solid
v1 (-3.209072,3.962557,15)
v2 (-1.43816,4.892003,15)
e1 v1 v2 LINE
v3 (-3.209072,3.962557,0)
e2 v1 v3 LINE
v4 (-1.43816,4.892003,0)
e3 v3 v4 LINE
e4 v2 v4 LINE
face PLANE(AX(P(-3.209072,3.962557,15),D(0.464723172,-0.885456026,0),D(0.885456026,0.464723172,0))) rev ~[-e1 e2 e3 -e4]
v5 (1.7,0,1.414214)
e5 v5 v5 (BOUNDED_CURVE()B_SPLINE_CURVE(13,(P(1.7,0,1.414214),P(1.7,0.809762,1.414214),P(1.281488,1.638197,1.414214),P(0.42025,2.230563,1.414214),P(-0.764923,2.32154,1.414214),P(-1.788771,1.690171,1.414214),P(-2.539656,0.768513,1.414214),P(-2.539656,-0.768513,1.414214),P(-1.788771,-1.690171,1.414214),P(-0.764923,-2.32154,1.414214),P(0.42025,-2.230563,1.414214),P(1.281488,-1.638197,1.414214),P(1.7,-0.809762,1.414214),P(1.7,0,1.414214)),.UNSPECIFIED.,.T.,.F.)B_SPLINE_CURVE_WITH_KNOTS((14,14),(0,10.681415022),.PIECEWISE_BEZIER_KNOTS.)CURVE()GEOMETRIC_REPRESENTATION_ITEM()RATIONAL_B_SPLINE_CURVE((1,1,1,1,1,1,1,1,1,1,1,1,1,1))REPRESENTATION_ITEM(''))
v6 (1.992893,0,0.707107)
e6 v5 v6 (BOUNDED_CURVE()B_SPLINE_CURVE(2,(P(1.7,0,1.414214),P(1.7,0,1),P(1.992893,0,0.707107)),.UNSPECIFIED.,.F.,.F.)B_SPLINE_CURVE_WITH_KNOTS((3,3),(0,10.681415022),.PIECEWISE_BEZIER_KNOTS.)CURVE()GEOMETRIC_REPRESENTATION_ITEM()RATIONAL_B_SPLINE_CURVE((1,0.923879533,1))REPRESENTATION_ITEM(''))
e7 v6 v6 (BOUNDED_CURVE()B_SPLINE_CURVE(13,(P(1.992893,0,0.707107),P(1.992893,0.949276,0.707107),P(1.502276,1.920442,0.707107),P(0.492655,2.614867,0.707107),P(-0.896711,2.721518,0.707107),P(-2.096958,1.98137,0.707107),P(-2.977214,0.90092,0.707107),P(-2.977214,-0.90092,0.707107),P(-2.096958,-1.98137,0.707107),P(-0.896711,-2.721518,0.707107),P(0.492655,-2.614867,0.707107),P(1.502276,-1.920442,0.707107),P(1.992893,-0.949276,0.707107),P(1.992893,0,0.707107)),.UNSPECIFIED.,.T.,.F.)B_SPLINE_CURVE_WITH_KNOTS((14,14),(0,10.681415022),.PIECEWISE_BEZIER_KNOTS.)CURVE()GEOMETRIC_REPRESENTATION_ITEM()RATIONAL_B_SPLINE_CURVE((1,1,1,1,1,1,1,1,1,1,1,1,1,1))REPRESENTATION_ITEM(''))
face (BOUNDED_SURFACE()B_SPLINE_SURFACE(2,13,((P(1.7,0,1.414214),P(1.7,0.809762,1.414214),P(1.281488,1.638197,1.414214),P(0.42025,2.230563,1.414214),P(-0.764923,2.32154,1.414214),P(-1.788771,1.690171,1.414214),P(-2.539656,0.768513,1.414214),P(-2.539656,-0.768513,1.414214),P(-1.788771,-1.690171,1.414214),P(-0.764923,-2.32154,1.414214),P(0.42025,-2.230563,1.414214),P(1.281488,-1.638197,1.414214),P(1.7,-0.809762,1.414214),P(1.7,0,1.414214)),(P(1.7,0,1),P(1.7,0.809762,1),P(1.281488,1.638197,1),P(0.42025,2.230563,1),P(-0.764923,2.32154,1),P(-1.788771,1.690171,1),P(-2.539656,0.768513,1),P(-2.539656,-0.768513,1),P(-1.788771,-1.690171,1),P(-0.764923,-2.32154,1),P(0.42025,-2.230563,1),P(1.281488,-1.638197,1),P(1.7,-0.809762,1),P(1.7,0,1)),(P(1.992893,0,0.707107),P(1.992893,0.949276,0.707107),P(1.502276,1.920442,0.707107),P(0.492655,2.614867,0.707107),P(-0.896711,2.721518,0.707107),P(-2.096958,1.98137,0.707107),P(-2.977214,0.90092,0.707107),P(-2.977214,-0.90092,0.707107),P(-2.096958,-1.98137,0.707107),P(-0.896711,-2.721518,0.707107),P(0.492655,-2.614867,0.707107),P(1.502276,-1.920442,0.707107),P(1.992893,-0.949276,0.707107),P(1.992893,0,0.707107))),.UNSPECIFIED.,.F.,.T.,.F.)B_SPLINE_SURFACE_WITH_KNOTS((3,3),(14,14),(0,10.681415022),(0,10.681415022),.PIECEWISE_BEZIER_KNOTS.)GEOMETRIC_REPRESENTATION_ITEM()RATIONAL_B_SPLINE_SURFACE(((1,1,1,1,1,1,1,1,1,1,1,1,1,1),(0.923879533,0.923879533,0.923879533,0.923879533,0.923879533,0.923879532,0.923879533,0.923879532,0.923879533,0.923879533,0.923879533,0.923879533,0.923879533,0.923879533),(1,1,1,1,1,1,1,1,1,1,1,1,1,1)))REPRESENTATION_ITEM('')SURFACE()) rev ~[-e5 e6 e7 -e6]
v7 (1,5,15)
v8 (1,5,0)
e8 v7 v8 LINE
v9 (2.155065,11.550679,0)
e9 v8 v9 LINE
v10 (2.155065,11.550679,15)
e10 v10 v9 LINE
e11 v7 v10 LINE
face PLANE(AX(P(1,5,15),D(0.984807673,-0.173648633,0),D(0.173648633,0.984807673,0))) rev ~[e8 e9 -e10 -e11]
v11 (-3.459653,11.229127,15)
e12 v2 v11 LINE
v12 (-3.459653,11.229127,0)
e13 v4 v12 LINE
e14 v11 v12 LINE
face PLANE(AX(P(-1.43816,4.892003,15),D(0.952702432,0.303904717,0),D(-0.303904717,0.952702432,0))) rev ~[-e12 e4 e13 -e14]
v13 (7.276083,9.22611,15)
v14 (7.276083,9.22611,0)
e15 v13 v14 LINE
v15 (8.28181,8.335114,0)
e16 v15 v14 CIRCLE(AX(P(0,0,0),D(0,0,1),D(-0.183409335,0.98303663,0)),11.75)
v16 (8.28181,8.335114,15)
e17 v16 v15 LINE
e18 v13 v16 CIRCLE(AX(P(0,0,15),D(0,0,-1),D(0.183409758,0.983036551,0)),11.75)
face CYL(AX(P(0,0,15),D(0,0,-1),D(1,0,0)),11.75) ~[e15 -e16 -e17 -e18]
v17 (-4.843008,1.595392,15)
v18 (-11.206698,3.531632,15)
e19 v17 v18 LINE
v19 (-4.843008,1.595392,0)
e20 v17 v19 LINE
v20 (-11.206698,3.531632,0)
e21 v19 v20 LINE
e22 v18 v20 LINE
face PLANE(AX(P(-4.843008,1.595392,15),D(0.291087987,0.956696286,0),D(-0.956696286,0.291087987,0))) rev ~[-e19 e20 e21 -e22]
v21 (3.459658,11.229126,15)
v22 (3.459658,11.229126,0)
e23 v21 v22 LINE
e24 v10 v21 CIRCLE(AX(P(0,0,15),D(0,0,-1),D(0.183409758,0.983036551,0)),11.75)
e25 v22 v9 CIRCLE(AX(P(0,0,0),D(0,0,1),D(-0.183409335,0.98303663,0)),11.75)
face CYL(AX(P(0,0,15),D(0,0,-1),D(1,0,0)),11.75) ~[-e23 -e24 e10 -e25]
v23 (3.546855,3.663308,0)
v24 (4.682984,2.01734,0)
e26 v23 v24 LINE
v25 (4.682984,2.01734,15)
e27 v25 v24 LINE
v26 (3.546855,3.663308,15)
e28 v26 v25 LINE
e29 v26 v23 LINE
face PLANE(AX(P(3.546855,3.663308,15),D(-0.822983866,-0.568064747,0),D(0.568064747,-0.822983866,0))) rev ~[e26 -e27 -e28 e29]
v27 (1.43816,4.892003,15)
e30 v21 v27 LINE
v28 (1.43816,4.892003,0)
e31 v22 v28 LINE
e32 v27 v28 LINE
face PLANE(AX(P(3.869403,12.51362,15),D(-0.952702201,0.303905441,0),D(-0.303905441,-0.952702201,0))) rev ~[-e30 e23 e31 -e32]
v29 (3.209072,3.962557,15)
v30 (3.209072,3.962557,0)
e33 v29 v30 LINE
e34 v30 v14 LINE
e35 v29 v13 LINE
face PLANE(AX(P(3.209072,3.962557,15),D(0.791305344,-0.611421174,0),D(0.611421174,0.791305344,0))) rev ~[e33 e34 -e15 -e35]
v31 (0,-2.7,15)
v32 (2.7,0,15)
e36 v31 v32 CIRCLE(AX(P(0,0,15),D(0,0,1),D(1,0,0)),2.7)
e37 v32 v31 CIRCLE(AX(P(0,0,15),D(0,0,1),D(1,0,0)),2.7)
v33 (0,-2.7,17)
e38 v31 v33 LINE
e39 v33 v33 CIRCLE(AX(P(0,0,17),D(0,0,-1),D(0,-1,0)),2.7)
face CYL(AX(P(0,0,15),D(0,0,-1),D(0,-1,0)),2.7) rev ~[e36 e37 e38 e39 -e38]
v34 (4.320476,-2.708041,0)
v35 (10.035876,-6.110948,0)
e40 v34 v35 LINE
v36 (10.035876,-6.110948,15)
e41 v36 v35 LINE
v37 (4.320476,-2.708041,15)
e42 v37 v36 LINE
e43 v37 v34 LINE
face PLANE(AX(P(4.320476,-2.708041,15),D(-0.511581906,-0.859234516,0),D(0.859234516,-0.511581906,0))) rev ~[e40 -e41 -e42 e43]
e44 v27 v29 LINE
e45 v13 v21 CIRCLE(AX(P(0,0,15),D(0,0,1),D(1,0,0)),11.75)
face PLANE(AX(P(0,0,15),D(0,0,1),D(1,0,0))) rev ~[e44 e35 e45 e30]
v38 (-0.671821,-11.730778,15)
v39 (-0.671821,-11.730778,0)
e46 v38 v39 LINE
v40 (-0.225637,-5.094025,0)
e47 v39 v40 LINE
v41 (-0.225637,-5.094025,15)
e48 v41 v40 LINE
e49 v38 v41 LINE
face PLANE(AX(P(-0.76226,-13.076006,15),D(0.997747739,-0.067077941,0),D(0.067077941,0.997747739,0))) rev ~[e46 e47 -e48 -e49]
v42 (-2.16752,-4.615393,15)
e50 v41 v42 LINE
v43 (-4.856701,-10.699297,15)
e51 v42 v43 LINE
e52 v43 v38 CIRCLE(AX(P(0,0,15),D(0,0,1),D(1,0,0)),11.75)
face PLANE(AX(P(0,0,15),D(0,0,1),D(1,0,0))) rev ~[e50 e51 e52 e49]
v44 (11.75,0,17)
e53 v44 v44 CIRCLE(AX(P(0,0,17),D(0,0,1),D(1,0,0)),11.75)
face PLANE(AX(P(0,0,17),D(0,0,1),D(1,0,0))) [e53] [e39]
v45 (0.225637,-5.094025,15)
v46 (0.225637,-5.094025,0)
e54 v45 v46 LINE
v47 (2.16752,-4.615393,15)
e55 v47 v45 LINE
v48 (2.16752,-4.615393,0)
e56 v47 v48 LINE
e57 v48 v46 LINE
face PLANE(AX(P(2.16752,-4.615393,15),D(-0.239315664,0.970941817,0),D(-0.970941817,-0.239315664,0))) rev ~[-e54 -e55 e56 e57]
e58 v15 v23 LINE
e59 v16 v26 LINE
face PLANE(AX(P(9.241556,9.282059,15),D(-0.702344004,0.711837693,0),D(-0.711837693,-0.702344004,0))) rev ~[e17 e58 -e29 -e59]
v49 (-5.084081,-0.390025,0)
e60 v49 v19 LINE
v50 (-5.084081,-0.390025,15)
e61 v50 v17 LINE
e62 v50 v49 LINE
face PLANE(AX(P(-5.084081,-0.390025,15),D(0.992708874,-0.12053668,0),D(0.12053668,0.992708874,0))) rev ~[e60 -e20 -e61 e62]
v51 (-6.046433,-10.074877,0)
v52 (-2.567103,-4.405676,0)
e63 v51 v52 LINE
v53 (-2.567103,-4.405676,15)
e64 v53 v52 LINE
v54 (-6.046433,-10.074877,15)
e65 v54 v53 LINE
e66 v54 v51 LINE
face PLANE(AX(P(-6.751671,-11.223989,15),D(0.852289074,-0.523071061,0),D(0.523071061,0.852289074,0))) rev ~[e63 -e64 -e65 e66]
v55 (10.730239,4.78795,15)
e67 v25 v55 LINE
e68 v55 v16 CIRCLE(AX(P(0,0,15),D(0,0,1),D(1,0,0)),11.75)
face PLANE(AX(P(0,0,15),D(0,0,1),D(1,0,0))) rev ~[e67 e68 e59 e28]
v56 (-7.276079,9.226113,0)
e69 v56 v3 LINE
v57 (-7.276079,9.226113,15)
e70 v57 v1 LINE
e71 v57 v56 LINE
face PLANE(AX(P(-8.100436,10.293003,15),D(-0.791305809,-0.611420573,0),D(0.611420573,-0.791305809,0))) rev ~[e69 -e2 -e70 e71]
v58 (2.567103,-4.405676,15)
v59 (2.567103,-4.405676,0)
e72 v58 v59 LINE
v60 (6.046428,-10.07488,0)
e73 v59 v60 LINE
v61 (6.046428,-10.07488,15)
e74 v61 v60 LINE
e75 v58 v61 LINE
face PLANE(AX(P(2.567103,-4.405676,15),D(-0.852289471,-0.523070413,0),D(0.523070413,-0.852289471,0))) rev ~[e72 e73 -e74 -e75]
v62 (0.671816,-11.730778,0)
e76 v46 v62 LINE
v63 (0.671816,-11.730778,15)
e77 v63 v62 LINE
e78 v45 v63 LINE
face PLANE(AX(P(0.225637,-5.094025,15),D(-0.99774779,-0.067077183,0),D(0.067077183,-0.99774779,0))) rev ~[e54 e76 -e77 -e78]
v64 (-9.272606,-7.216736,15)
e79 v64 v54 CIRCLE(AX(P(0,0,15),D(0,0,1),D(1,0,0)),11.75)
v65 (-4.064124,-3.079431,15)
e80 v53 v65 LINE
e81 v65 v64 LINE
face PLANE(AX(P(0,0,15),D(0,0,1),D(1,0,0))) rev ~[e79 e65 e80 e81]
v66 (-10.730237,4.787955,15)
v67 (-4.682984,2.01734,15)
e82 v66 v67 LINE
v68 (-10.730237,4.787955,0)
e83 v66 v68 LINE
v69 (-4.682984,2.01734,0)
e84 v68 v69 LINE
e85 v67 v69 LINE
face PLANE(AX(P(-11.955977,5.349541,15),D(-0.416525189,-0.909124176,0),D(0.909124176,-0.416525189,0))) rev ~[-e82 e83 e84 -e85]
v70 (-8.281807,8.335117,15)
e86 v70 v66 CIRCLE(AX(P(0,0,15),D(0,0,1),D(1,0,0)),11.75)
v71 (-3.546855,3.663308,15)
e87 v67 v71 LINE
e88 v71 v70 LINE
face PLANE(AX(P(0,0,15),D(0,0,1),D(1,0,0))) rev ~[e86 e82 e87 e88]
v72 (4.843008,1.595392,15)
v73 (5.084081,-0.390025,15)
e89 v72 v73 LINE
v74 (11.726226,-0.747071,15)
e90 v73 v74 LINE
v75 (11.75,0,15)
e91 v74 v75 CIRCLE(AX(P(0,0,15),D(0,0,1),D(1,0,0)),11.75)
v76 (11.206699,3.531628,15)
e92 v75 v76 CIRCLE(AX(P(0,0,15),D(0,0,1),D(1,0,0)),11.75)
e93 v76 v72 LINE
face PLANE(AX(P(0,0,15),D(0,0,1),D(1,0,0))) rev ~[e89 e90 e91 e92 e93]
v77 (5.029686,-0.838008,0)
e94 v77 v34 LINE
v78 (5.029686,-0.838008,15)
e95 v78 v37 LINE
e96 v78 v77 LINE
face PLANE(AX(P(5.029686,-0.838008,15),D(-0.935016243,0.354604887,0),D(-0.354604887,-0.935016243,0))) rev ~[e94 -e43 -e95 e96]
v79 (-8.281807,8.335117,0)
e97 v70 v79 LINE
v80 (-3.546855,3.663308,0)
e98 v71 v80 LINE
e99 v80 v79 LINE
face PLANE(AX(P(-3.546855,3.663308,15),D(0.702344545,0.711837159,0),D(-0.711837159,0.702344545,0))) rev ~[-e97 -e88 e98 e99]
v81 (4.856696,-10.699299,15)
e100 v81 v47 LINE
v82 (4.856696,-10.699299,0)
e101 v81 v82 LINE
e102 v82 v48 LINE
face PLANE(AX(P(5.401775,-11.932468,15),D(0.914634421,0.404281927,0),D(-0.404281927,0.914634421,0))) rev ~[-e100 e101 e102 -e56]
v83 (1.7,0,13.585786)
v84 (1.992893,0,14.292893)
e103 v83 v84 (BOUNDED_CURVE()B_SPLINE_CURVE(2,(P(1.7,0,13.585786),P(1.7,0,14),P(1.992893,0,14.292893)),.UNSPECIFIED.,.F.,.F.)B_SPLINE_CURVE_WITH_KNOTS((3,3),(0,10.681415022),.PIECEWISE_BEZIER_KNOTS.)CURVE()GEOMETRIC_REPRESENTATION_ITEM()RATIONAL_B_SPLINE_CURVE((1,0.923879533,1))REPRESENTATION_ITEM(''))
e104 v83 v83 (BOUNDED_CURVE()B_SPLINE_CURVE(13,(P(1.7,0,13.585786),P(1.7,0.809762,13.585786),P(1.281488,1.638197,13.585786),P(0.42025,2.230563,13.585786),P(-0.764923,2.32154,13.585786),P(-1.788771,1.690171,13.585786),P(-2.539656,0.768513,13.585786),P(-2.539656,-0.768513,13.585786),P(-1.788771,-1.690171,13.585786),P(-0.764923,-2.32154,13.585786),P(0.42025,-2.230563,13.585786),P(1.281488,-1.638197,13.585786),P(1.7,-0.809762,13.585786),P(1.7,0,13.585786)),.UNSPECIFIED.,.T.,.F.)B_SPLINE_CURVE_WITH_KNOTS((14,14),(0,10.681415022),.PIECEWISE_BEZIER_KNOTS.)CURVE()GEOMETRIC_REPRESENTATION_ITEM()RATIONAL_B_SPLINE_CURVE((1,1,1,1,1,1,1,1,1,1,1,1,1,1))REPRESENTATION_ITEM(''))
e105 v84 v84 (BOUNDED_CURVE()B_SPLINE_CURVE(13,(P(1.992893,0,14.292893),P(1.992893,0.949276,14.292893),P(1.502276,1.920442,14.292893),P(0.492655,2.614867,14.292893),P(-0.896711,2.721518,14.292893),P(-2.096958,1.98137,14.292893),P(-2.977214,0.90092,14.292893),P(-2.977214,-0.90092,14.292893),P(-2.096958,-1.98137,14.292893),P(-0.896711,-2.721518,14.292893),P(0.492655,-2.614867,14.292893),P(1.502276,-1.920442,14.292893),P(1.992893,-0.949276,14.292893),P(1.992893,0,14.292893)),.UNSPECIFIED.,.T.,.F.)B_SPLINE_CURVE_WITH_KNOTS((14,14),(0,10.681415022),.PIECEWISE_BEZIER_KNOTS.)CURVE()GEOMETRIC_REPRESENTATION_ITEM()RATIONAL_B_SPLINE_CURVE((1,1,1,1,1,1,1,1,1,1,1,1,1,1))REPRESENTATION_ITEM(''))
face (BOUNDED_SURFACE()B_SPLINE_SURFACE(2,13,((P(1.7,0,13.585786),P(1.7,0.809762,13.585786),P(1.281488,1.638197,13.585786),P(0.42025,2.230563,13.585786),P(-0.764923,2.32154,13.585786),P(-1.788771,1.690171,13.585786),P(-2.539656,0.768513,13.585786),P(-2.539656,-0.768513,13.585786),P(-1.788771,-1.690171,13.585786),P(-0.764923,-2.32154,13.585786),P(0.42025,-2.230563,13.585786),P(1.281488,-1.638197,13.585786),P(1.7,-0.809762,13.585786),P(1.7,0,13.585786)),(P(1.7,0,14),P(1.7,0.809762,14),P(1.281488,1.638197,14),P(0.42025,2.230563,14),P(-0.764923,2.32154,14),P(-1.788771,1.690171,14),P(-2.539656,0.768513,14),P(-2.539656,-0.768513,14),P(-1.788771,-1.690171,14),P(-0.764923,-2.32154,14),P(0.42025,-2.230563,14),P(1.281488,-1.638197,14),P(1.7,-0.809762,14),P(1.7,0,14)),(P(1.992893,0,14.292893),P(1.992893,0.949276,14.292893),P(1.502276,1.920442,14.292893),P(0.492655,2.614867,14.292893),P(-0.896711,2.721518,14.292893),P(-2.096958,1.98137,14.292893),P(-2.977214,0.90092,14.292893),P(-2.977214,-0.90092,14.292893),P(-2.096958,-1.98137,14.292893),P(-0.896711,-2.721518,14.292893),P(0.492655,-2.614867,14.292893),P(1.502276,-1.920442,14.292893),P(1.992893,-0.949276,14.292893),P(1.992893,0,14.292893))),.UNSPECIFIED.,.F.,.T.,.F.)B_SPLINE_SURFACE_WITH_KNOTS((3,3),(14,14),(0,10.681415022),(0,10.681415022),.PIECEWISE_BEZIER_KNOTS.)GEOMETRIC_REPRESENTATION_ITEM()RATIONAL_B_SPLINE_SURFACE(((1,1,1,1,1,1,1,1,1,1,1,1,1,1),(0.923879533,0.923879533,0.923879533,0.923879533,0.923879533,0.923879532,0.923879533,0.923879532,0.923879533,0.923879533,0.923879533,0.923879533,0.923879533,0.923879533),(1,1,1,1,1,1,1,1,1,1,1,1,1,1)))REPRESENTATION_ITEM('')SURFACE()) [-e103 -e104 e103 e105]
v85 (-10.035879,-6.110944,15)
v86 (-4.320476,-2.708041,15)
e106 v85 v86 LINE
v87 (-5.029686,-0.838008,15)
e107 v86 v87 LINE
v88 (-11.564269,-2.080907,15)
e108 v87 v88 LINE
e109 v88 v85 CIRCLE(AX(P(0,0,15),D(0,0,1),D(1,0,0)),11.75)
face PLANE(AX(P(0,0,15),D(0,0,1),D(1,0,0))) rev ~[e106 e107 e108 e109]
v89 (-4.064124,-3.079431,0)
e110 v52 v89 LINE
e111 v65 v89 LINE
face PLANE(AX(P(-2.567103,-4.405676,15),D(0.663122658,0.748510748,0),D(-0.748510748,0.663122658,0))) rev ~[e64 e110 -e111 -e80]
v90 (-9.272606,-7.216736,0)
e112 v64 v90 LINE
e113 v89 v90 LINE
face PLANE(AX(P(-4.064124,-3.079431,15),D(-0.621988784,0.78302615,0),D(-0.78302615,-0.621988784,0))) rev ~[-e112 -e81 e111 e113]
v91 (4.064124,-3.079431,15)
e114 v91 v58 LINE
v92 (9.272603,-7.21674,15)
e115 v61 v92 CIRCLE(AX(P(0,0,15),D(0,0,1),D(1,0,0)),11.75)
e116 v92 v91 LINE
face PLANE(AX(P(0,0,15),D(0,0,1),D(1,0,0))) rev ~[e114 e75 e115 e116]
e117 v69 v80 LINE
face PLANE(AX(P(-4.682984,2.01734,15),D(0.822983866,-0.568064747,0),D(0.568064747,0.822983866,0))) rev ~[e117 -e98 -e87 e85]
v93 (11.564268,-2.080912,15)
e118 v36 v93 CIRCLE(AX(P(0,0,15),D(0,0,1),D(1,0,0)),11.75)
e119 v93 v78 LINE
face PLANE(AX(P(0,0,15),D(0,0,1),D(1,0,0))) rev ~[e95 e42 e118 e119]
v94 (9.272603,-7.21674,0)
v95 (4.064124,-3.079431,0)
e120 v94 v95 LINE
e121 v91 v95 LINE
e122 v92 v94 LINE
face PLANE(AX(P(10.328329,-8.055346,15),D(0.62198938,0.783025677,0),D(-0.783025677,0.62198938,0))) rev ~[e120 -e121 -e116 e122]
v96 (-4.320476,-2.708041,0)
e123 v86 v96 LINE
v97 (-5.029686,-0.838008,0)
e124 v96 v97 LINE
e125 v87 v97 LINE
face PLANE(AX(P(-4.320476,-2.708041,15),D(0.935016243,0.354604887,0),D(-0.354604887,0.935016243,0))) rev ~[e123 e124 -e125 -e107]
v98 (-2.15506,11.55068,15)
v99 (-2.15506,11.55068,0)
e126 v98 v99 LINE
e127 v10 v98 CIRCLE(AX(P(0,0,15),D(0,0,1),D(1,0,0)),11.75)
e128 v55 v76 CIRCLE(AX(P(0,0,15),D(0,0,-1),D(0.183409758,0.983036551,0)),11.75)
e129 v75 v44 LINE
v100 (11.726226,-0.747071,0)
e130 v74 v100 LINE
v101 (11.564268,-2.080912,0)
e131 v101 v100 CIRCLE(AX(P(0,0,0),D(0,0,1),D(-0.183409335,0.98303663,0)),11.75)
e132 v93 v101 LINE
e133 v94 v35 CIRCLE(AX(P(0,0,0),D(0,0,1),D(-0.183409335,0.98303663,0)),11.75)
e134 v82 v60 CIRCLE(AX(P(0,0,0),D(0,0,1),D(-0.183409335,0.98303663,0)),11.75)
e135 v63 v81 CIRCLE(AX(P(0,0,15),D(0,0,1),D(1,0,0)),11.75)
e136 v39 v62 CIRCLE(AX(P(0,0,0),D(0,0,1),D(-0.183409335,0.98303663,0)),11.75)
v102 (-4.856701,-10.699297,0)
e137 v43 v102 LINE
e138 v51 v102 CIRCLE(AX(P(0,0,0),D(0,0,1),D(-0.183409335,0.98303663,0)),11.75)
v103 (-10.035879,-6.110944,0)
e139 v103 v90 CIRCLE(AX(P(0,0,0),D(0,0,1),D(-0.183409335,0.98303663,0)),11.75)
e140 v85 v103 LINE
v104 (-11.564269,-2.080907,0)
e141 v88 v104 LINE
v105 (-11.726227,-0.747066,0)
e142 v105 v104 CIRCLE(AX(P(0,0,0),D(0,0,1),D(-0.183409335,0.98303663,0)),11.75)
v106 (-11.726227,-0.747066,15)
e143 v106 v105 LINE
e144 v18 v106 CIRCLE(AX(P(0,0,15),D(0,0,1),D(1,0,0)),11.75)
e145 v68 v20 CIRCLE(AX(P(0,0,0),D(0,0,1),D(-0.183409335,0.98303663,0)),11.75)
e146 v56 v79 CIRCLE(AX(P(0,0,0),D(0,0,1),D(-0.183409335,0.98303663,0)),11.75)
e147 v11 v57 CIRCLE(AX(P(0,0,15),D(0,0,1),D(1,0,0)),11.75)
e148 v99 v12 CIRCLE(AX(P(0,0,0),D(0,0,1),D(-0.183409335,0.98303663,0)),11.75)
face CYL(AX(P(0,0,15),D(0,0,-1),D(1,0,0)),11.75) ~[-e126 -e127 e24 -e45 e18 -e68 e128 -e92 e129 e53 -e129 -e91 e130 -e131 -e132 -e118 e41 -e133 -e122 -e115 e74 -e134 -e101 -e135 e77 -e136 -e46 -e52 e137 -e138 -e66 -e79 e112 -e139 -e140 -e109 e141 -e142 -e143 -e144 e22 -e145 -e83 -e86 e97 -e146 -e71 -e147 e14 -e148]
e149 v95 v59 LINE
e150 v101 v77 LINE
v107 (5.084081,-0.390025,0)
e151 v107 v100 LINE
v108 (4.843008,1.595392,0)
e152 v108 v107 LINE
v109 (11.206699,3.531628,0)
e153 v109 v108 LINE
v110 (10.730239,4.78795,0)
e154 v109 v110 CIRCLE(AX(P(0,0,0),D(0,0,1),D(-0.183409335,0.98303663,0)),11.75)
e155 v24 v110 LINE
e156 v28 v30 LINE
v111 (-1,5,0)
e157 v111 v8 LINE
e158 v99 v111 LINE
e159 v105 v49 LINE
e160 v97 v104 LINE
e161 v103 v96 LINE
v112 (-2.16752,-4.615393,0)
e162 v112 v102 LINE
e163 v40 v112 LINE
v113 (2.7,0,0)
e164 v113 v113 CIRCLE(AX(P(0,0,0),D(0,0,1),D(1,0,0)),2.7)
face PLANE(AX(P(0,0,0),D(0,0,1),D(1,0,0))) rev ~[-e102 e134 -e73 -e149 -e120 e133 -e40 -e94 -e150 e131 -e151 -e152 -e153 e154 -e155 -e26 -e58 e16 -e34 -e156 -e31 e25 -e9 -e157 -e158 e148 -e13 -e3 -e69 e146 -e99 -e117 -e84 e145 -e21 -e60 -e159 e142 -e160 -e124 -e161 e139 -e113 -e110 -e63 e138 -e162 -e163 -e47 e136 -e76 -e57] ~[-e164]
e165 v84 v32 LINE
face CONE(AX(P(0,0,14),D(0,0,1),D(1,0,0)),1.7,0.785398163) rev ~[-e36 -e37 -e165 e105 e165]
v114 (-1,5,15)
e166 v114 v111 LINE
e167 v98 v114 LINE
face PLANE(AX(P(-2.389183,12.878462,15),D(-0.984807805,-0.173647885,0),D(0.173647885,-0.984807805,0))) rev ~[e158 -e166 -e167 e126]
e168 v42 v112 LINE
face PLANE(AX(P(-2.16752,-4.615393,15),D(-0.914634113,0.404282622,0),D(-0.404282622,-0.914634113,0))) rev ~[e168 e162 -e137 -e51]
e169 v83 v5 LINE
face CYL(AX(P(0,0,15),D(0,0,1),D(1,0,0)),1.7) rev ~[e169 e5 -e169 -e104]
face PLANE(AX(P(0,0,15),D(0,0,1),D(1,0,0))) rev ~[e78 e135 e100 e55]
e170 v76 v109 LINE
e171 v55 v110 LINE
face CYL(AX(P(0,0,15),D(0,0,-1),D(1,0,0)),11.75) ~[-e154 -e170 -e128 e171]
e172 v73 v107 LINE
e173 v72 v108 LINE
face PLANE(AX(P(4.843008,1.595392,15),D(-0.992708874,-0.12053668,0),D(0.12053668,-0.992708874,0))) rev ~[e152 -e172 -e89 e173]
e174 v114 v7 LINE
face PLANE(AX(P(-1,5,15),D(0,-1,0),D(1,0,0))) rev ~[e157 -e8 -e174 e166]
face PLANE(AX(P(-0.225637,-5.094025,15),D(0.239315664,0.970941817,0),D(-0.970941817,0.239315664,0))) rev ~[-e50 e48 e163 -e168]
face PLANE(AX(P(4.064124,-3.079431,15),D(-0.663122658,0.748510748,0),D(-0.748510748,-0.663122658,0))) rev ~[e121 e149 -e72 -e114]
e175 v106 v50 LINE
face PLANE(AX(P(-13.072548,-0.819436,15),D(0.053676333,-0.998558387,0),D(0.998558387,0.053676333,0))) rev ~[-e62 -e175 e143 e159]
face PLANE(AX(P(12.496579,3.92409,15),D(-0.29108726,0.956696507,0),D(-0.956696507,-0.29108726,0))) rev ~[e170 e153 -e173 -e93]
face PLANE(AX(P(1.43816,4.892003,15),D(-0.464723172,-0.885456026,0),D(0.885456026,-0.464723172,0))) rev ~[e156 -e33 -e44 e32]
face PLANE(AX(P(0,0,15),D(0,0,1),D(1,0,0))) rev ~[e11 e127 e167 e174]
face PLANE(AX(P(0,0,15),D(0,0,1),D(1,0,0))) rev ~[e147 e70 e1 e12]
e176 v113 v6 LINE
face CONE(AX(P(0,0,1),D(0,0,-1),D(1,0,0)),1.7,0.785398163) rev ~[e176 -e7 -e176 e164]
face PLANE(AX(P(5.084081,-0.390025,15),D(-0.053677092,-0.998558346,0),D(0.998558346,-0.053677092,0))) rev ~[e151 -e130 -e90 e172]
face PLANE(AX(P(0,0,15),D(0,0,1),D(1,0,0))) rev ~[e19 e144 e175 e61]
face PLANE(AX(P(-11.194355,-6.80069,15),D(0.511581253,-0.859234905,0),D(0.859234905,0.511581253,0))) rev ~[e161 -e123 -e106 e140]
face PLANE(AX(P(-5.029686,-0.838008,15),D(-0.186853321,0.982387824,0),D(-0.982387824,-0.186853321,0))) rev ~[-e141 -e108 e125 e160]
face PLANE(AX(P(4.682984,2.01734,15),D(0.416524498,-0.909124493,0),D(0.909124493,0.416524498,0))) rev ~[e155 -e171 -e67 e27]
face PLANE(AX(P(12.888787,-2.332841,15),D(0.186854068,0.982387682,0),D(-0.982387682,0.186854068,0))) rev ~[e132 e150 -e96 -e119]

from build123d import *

# Parameters (mm, degrees)
SKETCH_R           = 11.75
PAD_DEPTH          = 15
SKETCH001_R        = 1.7
POCKET_DEPTH       = 15.001
POCKET001_DEPTH    = 87.925619
POLARPATTERN_COUNT = 13
CHAMFER_SIZE       = 1
CHAMFER001_SIZE    = 1
FILLET_R           = 1
FILLET001_R        = 1
SKETCH003_R        = 11.75
PAD001_DEPTH       = 2
PAD001_FACE6_R     = 2.7
POCKET002_DEPTH    = 5


with BuildPart() as part:
    # Sketch → Pad (new body)
    with BuildSketch(Plane.XY):
        Circle(SKETCH_R)
    extrude(amount=PAD_DEPTH)

    # Sketch001 (on Face3 of Pad) → Pocket (cut, through all)
    with BuildSketch(Plane.XY.offset(15)):
        Circle(SKETCH001_R)
    extrude(amount=-POCKET_DEPTH, mode=Mode.SUBTRACT)

    # Sketch002 (on Face3 of Pocket) → Pocket001 (cut, through all)
    with BuildSketch(Plane.XY.offset(15)):
        Polygon((-1, 5), (1, 5), (2.389189, 12.878461), (-2.389183, 12.878462), align=None)
    pocket001 = extrude(amount=-POCKET001_DEPTH, mode=Mode.SUBTRACT)

    # PolarPattern: Pocket001 ×13 about axis
    polarpattern_axis = Axis((0, 0, 15), (0, 0, 1))
    for i in range(1, POLARPATTERN_COUNT):
        add(pocket001.rotate(polarpattern_axis, i * 360 / POLARPATTERN_COUNT), mode=Mode.SUBTRACT)

    # Chamfer
    chamfer_edges = [part.edges().sort_by_distance(p)[0] for p in [
        (-1.7, 0, 0),
    ]]
    chamfer(chamfer_edges, length=CHAMFER_SIZE)

    # Chamfer001
    chamfer001_edges = [part.edges().sort_by_distance(p)[0] for p in [
        (-1.7, 0, 15),
    ]]
    chamfer(chamfer001_edges, length=CHAMFER001_SIZE)

    # Fillet
    fillet_edges = [part.edges().sort_by_distance(p)[0] for p in [
        (-1.7, 0, 1),
    ]]
    fillet(fillet_edges, radius=FILLET_R)

    # Fillet001
    fillet001_edges = [part.edges().sort_by_distance(p)[0] for p in [
        (-1.7, 0, 14),
    ]]
    fillet(fillet001_edges, radius=FILLET001_R)

    # Sketch003 (on Face55 of PolarPattern) → Pad001 (join)
    with BuildSketch(Plane.XY.offset(15)):
        Circle(SKETCH003_R)
    extrude(amount=PAD001_DEPTH)

    # Pad001 Face6 → Pocket002 (cut)
    with BuildSketch(Plane(origin=(0, 0, 15), x_dir=(0, -1, 0), z_dir=(0, 0, -1))):
        Circle(PAD001_FACE6_R)
    extrude(amount=-POCKET002_DEPTH, mode=Mode.SUBTRACT)


solid = part.part
